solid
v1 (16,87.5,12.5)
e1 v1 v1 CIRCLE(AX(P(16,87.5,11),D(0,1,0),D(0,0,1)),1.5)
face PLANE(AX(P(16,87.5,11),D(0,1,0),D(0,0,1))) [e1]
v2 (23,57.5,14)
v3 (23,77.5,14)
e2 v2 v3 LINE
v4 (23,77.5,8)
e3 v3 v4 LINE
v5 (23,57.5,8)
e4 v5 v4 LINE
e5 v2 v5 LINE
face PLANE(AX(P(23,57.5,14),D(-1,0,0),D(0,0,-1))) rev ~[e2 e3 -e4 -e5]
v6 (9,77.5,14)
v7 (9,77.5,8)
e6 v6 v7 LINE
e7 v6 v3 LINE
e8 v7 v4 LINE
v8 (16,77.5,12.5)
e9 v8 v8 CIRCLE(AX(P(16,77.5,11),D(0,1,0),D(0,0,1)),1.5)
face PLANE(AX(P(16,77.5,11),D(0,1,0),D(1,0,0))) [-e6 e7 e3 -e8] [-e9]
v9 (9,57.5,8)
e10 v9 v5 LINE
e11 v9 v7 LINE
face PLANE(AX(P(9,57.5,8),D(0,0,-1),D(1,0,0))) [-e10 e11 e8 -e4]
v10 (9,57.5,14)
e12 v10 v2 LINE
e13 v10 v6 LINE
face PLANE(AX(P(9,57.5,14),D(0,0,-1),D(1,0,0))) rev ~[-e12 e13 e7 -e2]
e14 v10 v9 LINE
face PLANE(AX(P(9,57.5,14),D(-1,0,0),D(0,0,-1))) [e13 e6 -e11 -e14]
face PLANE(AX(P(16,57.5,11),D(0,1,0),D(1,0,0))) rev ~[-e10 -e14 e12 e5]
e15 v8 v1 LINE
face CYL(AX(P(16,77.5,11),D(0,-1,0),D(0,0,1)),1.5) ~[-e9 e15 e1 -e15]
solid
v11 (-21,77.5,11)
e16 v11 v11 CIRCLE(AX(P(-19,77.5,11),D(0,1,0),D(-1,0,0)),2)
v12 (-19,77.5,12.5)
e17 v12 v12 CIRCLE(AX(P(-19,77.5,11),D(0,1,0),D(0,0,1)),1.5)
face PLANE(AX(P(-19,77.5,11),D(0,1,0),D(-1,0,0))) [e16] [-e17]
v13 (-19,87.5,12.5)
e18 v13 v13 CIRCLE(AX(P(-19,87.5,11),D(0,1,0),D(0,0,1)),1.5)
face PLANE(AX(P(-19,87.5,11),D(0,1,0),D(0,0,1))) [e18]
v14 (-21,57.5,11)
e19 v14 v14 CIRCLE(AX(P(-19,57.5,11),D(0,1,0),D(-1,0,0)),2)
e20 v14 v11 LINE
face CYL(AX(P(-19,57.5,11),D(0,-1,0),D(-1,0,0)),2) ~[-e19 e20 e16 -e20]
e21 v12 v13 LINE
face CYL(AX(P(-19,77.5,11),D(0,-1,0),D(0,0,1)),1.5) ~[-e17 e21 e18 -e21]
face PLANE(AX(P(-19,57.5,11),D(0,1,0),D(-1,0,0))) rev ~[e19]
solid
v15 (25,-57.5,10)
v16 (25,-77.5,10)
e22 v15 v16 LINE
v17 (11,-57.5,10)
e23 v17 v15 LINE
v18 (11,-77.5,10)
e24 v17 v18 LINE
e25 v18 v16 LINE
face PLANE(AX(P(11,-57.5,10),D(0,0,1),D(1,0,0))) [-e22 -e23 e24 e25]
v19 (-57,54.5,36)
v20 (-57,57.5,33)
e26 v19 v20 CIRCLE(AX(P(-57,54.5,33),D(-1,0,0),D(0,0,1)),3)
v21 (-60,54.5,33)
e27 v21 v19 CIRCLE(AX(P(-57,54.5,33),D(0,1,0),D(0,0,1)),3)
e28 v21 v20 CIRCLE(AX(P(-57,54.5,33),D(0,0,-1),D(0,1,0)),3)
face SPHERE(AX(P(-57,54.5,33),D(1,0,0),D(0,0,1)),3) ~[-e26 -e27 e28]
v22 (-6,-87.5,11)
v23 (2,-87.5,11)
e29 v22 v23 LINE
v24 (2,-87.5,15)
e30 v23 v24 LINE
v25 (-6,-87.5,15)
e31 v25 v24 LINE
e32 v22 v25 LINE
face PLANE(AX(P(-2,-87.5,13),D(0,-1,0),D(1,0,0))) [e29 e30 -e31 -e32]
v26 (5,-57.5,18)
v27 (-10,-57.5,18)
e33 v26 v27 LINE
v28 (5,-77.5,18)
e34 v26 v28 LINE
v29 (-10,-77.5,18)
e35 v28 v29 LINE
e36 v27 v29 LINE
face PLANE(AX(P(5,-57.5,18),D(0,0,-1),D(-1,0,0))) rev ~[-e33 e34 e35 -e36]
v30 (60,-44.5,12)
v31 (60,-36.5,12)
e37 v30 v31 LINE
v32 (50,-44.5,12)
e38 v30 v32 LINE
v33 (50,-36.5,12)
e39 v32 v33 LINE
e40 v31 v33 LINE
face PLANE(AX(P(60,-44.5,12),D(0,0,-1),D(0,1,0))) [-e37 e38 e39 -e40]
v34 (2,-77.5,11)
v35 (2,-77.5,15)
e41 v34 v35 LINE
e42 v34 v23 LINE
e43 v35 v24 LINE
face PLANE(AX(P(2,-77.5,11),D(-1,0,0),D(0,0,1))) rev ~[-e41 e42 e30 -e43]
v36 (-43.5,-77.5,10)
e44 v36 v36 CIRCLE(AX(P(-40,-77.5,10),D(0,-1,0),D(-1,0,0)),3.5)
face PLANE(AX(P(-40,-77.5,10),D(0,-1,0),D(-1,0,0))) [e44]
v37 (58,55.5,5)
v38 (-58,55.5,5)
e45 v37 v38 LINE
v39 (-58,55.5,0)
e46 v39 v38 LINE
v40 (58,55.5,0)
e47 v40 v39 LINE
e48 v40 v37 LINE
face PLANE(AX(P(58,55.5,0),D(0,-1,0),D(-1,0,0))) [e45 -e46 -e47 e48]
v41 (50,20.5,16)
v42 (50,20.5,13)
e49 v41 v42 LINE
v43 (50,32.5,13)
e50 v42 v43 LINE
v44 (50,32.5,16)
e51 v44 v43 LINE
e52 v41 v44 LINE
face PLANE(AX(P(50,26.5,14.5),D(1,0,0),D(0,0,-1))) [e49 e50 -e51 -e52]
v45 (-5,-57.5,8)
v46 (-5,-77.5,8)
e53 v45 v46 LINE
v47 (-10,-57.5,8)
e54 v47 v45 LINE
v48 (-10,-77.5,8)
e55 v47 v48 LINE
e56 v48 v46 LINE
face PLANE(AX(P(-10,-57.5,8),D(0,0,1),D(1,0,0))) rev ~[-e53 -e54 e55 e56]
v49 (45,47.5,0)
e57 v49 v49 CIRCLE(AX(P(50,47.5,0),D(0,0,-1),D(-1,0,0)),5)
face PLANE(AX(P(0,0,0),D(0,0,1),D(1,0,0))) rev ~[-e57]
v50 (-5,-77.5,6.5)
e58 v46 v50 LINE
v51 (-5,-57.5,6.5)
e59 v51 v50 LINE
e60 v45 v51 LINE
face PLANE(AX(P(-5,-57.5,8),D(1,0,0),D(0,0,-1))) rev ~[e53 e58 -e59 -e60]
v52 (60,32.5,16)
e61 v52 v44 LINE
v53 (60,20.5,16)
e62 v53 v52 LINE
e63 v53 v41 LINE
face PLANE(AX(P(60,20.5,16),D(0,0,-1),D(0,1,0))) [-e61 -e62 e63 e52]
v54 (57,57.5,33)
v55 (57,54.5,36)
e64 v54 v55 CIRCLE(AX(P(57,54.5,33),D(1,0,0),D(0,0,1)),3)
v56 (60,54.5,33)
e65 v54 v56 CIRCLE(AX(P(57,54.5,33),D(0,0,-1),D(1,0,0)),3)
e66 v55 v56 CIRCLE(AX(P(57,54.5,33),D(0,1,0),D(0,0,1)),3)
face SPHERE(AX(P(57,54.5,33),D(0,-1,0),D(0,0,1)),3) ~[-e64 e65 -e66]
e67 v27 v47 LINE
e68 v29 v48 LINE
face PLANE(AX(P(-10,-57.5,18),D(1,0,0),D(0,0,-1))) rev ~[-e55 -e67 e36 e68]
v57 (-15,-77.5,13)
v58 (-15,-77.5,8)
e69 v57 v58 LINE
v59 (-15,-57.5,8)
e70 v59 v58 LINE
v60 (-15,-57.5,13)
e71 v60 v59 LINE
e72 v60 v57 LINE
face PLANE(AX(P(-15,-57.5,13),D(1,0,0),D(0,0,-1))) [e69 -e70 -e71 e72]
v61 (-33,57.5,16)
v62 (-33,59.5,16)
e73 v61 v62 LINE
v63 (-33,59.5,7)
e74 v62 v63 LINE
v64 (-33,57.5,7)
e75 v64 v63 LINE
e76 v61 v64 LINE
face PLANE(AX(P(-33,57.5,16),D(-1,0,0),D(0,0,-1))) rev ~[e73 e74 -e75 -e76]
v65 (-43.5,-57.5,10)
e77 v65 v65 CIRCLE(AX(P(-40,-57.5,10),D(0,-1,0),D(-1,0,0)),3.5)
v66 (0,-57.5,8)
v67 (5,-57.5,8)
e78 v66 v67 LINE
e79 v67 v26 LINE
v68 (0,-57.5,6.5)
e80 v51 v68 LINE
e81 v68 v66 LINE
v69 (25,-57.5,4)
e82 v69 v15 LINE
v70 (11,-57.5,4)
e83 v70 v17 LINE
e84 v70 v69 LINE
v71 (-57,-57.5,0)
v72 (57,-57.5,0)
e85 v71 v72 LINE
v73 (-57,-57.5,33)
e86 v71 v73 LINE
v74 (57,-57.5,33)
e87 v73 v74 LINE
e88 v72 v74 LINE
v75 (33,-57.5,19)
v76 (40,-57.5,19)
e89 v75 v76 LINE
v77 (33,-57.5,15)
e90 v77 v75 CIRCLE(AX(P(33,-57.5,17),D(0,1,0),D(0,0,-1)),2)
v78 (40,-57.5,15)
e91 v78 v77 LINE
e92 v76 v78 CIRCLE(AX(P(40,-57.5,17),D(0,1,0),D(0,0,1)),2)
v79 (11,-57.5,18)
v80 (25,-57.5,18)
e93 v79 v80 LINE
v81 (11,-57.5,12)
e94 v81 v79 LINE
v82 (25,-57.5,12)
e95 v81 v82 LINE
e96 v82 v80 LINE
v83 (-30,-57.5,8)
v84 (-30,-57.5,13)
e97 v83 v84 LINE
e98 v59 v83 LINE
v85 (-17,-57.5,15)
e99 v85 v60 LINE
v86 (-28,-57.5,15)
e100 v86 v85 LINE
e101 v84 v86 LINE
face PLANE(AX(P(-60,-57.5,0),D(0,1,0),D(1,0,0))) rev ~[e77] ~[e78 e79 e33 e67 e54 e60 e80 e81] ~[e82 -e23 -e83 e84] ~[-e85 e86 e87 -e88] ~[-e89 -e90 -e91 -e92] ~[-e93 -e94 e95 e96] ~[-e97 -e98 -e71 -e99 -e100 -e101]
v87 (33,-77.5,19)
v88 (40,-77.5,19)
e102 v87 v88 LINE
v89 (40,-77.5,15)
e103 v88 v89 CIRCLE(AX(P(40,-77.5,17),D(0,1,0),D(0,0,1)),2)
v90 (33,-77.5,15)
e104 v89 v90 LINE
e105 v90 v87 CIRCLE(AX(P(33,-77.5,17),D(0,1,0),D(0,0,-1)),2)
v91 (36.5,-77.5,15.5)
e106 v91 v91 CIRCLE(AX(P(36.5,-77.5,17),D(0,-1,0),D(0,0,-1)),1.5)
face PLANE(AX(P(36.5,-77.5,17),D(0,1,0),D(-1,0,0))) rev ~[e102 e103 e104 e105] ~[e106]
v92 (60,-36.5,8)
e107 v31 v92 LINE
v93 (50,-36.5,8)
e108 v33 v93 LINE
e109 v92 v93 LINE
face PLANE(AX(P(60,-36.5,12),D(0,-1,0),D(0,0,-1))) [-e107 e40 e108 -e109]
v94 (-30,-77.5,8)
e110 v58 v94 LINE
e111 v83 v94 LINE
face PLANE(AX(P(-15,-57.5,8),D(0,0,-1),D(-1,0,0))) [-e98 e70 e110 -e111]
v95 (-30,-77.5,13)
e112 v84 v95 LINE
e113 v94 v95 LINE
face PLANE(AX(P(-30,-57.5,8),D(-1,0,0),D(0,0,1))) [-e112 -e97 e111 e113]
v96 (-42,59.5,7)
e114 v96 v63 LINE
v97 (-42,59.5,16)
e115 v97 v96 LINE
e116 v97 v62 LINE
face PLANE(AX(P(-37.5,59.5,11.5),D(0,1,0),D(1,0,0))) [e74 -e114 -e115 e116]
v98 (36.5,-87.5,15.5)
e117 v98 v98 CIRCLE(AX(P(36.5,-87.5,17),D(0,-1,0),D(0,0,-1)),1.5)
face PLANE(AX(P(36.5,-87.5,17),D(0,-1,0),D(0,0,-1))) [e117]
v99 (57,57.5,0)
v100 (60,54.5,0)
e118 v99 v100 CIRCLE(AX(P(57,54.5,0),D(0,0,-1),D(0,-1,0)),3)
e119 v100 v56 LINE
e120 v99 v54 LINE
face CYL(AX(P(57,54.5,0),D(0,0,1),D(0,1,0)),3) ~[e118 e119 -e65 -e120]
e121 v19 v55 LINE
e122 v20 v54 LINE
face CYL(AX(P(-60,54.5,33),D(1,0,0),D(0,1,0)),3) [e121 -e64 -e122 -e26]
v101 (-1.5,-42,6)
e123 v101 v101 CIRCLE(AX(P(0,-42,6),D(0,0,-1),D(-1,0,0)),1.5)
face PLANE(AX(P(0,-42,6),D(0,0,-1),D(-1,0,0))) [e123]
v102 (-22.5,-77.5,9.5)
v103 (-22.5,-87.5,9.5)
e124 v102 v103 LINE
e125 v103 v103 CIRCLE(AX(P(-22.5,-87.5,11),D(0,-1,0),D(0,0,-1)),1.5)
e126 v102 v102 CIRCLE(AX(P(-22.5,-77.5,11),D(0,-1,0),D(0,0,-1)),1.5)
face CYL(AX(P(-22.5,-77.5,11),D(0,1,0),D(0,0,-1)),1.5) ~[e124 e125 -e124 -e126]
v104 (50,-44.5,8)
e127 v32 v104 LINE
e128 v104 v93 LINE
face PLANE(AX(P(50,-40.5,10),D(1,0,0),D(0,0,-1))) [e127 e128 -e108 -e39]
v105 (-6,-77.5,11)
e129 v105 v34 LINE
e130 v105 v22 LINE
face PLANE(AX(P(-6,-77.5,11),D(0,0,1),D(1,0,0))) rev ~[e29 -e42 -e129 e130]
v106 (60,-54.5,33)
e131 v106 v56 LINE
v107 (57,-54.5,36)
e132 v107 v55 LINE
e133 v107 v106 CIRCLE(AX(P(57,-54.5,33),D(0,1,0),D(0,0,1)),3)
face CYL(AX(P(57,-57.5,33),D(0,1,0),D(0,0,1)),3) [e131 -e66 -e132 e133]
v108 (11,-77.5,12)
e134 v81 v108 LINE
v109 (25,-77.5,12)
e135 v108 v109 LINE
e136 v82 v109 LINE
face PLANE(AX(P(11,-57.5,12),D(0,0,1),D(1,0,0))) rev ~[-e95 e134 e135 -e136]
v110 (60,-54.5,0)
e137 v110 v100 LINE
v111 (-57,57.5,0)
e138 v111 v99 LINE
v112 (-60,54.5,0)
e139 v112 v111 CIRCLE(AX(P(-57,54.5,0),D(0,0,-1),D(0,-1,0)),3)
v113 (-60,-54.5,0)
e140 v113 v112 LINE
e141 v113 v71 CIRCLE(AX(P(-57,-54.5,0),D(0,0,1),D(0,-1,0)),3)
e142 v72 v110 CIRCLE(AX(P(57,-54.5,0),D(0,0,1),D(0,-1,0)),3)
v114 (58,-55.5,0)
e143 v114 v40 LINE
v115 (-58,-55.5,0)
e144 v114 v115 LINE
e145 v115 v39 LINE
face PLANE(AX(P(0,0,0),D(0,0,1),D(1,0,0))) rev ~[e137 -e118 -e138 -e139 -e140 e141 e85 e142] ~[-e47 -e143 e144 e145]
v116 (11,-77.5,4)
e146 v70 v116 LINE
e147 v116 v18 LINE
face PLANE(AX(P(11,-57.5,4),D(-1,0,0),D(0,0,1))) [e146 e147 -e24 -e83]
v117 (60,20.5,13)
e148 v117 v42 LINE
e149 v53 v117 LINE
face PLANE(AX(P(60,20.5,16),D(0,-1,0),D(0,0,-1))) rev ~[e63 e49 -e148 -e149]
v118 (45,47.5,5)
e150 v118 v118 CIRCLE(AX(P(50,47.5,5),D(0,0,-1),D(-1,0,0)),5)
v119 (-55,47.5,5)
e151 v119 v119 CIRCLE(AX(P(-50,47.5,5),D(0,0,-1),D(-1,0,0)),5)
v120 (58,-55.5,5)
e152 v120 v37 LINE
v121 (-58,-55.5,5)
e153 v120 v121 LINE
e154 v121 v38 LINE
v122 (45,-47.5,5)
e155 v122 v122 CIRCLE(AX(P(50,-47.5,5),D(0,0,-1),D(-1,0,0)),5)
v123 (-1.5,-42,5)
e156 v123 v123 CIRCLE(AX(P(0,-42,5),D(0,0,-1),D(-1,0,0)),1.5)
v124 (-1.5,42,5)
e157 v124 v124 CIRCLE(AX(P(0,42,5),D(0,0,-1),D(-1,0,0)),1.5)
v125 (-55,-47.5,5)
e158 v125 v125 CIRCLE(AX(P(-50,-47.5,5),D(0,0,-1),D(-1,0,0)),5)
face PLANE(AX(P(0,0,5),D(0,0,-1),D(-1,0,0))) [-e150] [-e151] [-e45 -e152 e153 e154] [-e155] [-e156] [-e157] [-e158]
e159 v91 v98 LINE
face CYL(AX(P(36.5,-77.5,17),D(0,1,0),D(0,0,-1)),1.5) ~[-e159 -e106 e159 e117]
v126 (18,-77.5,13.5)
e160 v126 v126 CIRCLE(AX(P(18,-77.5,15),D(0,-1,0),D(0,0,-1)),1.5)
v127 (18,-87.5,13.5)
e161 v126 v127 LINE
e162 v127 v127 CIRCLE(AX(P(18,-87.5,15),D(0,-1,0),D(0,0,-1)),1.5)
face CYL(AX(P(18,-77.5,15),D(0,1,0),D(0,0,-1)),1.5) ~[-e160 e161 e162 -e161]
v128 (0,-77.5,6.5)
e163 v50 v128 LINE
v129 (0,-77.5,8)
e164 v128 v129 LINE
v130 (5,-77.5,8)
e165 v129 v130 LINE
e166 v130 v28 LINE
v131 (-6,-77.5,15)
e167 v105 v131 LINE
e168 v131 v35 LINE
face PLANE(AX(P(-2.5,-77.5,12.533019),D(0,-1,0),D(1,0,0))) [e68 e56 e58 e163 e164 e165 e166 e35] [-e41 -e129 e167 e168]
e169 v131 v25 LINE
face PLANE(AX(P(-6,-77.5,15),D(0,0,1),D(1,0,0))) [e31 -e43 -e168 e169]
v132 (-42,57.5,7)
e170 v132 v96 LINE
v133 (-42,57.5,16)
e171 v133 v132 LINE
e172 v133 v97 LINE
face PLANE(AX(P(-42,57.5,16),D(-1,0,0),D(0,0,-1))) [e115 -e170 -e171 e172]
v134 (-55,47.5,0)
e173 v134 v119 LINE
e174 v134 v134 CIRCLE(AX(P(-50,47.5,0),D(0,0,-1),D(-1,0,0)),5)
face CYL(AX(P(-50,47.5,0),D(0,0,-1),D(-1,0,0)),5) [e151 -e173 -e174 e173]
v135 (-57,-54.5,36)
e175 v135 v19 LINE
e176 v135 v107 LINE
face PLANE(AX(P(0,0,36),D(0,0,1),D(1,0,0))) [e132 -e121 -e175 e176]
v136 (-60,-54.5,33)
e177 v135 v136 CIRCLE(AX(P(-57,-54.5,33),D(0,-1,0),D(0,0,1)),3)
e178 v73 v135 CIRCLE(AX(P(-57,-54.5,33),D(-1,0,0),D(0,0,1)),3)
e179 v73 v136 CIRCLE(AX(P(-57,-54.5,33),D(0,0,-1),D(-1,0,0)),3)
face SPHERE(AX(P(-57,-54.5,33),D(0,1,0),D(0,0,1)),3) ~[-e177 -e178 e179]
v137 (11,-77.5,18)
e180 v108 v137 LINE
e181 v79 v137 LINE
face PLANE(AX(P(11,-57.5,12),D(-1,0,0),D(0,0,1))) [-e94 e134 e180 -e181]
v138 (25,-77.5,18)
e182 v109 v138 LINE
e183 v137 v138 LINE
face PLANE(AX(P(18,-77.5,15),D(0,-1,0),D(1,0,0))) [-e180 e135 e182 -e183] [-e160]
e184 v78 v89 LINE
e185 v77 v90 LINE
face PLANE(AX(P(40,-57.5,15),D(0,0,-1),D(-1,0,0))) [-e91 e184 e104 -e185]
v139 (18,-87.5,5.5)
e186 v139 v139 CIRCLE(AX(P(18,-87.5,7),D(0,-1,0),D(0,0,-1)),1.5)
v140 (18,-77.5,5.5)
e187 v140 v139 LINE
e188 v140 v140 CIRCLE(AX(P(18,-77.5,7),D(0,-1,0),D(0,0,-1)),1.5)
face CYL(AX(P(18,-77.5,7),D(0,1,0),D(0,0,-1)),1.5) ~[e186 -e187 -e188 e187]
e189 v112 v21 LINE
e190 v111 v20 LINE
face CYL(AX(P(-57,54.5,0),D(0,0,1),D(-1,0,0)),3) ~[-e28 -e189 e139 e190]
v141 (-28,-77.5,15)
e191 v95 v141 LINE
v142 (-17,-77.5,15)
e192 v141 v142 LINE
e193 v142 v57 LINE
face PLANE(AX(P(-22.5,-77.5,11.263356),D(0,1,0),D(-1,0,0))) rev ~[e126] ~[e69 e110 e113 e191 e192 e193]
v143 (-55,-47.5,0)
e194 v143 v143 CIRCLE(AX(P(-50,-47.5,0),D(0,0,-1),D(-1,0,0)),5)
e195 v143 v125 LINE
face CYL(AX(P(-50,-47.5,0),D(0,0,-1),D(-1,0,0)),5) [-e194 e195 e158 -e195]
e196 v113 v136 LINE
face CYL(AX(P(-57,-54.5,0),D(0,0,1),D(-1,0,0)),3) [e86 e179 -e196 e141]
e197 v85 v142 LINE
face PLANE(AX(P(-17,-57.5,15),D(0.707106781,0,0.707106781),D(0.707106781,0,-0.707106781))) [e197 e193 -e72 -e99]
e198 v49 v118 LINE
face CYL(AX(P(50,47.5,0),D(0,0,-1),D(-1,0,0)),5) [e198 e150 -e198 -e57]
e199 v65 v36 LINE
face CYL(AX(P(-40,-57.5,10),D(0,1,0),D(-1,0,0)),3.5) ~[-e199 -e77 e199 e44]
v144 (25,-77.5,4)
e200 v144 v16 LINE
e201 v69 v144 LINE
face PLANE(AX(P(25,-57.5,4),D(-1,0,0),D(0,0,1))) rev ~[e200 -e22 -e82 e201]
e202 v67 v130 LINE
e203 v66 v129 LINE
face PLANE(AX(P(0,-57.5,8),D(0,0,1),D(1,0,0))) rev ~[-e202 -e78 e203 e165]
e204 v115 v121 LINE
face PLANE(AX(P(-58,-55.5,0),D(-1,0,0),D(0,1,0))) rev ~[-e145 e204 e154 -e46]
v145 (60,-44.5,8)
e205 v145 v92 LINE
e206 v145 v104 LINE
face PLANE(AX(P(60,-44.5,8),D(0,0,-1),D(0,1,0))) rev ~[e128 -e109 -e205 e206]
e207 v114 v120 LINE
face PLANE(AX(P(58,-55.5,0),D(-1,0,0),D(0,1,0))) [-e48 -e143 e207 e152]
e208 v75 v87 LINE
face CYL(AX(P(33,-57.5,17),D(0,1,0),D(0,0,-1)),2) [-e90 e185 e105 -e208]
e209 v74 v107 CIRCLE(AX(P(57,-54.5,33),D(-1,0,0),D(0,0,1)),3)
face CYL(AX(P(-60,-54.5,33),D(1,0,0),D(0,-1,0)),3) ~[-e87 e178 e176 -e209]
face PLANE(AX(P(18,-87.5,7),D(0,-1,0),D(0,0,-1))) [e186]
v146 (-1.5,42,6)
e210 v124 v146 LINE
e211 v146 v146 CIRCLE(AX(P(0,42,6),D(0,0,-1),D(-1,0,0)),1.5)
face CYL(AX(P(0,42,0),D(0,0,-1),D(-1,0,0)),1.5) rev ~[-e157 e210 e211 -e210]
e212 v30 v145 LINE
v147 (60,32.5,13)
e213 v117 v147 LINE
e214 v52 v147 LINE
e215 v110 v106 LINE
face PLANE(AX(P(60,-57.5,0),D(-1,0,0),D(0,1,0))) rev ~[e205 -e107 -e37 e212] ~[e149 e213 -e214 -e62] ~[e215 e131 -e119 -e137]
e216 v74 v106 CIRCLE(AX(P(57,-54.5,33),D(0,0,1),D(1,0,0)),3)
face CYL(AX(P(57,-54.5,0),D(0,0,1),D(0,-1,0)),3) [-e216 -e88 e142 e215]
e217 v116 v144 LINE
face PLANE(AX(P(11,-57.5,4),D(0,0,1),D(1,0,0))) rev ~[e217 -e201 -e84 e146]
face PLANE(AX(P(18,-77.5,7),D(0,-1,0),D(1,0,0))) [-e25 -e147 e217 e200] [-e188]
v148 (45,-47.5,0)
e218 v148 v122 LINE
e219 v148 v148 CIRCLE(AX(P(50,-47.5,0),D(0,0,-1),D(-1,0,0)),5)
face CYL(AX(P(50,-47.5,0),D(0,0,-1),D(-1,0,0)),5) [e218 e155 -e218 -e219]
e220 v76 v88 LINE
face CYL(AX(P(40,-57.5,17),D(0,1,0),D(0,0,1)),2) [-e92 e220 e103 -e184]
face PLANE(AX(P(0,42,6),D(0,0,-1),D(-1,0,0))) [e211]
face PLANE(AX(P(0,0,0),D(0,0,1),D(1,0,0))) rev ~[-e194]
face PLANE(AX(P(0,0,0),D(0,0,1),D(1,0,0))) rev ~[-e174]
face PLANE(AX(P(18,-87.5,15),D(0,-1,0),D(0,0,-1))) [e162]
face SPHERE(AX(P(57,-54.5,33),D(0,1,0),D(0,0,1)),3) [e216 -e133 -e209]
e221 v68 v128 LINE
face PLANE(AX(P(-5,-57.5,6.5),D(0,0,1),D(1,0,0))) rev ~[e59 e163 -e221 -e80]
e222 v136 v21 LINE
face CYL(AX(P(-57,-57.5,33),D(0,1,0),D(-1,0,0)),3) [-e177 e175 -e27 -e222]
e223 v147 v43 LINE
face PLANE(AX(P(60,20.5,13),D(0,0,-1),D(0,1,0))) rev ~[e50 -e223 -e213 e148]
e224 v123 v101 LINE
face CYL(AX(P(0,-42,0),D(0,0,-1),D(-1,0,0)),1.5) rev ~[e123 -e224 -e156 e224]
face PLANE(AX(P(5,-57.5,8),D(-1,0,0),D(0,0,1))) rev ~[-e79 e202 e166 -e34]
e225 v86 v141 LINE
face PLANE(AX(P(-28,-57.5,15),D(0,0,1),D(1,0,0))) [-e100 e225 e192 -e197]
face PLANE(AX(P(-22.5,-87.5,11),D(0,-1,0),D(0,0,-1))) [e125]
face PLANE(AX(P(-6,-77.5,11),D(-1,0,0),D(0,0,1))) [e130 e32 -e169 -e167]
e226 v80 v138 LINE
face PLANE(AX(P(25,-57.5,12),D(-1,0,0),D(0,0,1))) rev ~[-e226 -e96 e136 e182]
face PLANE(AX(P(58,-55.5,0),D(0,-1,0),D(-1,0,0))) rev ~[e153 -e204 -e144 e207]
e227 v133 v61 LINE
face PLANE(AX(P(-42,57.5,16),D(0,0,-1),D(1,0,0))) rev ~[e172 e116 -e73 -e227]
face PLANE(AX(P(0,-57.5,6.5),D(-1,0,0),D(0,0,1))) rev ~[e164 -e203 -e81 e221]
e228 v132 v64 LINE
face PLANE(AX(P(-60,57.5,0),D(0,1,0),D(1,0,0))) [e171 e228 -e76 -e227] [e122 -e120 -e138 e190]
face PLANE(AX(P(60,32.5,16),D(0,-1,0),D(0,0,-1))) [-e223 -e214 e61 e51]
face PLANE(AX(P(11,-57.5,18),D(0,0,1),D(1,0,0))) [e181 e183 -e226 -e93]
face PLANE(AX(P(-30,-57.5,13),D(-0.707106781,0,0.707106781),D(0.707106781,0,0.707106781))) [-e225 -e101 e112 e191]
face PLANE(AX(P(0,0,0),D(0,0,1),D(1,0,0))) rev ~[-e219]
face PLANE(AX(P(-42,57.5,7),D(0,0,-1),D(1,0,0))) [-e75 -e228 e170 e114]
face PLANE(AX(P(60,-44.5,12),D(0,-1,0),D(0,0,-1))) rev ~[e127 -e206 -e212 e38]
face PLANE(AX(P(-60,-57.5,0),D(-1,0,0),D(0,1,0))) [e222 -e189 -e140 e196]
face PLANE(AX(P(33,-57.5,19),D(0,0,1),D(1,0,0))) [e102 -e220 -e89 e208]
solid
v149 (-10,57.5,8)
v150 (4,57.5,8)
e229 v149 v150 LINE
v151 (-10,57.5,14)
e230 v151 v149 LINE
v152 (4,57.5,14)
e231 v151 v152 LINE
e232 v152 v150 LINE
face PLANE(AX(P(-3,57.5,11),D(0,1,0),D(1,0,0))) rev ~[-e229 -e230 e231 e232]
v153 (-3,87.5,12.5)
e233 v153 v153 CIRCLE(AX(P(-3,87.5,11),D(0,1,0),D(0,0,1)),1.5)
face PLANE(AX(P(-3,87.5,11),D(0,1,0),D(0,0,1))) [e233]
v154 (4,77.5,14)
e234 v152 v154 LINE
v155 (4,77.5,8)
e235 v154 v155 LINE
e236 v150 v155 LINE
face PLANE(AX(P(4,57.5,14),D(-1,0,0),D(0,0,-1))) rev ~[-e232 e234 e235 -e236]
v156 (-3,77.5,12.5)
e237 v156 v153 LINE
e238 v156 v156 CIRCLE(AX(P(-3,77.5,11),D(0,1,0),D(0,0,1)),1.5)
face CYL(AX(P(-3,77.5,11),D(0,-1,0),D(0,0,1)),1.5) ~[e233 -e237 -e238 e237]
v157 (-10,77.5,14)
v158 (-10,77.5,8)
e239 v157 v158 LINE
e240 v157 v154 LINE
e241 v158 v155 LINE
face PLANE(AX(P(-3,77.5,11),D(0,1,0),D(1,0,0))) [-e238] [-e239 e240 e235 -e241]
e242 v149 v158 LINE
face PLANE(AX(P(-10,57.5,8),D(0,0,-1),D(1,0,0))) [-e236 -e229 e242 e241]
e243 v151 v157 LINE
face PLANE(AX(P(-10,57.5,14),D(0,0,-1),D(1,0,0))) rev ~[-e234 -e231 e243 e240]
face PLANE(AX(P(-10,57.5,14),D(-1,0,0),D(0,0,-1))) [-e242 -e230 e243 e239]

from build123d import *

# Parameters (mm, degrees)
SKETCH_1_W          = 120
SKETCH_1_H          = 115
EXTRUDE_1_DEPTH     = 36
SKETCH_2_R          = 1.5
CUT_EXTRUDE_1_DEPTH = 6
FILLET_1_R          = 3
SKETCH_3_R          = 3.5
SKETCH_3_W          = 14
SKETCH_3_H          = 6
EXTRUDE_2_DEPTH     = 20
SKETCH_4_R          = 1.5
SKETCH_4_W          = 8
SKETCH_4_H          = 4
EXTRUDE_3_DEPTH     = 10
SKETCH_5_W          = 3
SKETCH_5_H          = 12
SKETCH_5_W_2        = 4
SKETCH_5_H_2        = 8
CUT_EXTRUDE_2_DEPTH = 10
SKETCH_6_W          = 9
SKETCH_6_H          = 9
EXTRUDE_4_DEPTH     = 2
SKETCH_7_R          = 2
EXTRUDE_5_DEPTH     = 20
SKETCH_7_W          = 14
SKETCH_7_H          = 6
EXTRUDE_5_2_DEPTH   = 20
EXTRUDE_5_3_DEPTH   = 20
SKETCH_9_R          = 1.5
EXTRUDE_6_DEPTH     = 10
SKETCH_10_W         = 116
SKETCH_10_H         = 111
SKETCH_10_R         = 5
SKETCH_10_R_2       = 1.5
CUT_EXTRUDE_3_DEPTH = 5


with BuildPart() as part:
    # 草图1 → 凸台-拉伸1 (new body)
    with BuildSketch(Plane.XY):
        Rectangle(SKETCH_1_W, SKETCH_1_H)
    extrude(amount=EXTRUDE_1_DEPTH)

    # 草图2 → 切除-拉伸1 (cut)
    with BuildSketch(Plane(origin=(0, 0, 0), x_dir=(-1, 0, 0), z_dir=(0, 0, -1))):
        with Locations((0, 42)):
            Circle(SKETCH_2_R)
        with Locations((0, -42)):
            Circle(SKETCH_2_R)
    extrude(amount=-CUT_EXTRUDE_1_DEPTH, mode=Mode.SUBTRACT)

    # 圆角1
    fillet_1_edges = [part.edges().sort_by_distance(p)[0] for p in [
        (60, 0, 36),
        (0, 57.5, 36),
        (-60, 0, 36),
        (0, -57.5, 36),
        (-60, 57.5, 18),
        (60, 57.5, 18),
        (60, -57.5, 18),
        (-60, -57.5, 18),
    ]]
    fillet(fillet_1_edges, radius=FILLET_1_R)

    # 草图3 → 凸台-拉伸2 (add)
    with BuildSketch(Plane.XZ.offset(57.5)):
        with Locations(Location((-40, 10, 0), (0, 0, 180))):
            Circle(SKETCH_3_R)
        Polygon((-30, 13), (-28, 15), (-17, 15), (-15, 13), (-15, 8), (-30, 8), align=None)
        Polygon((0, 8), (5, 8), (5, 18), (-10, 18), (-10, 8), (-5, 8), (-5, 6.5), (0, 6.5), align=None)
        with Locations((18, 15)):
            Rectangle(SKETCH_3_W, SKETCH_3_H)
        with Locations((18, 7)):
            Rectangle(SKETCH_3_W, SKETCH_3_H)
        with BuildLine():
            Line((33, 19), (40, 19))
            ThreePointArc((40, 19), (42, 17), (40, 15))
            Line((40, 15), (33, 15))
            ThreePointArc((33, 15), (31, 17), (33, 19))
        make_face()
    extrude(amount=EXTRUDE_2_DEPTH)

    # 草图4 → 凸台-拉伸3 (add)
    with BuildSketch(Plane.XZ.offset(77.5)):
        with Locations(Location((-22.5, 11, 0), (0, 0, 270))):
            Circle(SKETCH_4_R)
        with Locations(Location((18, 15, 0), (0, 0, 270))):
            Circle(SKETCH_4_R)
        with Locations(Location((18, 7, 0), (0, 0, 270))):
            Circle(SKETCH_4_R)
        with Locations(Location((36.5, 17, 0), (0, 0, 270))):
            Circle(SKETCH_4_R)
        with Locations((-2, 13)):
            Rectangle(SKETCH_4_W, SKETCH_4_H)
    extrude(amount=EXTRUDE_3_DEPTH)

    # 草图5 → 切除-拉伸2 (cut)
    with BuildSketch(Plane(origin=(60, 0, 0), x_dir=(0, 0, -1), z_dir=(1, 0, 0))):
        with Locations((-14.5, 26.5)):
            Rectangle(SKETCH_5_W, SKETCH_5_H)
        with Locations((-10, -40.5)):
            Rectangle(SKETCH_5_W_2, SKETCH_5_H_2)
    extrude(amount=-CUT_EXTRUDE_2_DEPTH, mode=Mode.SUBTRACT)

    # 草图6 → 凸台-拉伸4 (add)
    with BuildSketch(Plane(origin=(0, 57.5, 0), x_dir=(1, 0, 0), z_dir=(0, 1, 0))):
        with Locations((-37.5, -11.5)):
            Rectangle(SKETCH_6_W, SKETCH_6_H)
    extrude(amount=EXTRUDE_4_DEPTH)

    # 草图10 → 切除-拉伸3 (cut)
    with BuildSketch(Plane(origin=(0, 0, 0), x_dir=(-1, 0, 0), z_dir=(0, 0, -1))):
        Rectangle(SKETCH_10_W, SKETCH_10_H)
        with Locations((50, -47.5)):
            Circle(SKETCH_10_R, mode=Mode.SUBTRACT)
        with Locations((-50, -47.5)):
            Circle(SKETCH_10_R, mode=Mode.SUBTRACT)
        with Locations((50, 47.5)):
            Circle(SKETCH_10_R, mode=Mode.SUBTRACT)
        with Locations((-50, 47.5)):
            Circle(SKETCH_10_R, mode=Mode.SUBTRACT)
        with Locations((0, -42)):
            Circle(SKETCH_10_R_2, mode=Mode.SUBTRACT)
        with Locations((0, 42)):
            Circle(SKETCH_10_R_2, mode=Mode.SUBTRACT)
    extrude(amount=-CUT_EXTRUDE_3_DEPTH, mode=Mode.SUBTRACT)


with BuildPart() as body_2:
    # 草图7 → 凸台-拉伸5 (new body)
    with BuildSketch(Plane(origin=(0, 57.5, 0), x_dir=(1, 0, 0), z_dir=(0, 1, 0))):
        with Locations(Location((-19, -11, 0), (0, 0, 180))):
            Circle(SKETCH_7_R)
    extrude(amount=EXTRUDE_5_DEPTH)



with BuildPart() as body_3:
    # 草图7 → Extrude 5 2 (new body)
    with BuildSketch(Plane(origin=(0, 57.5, 0), x_dir=(1, 0, 0), z_dir=(0, 1, 0))):
        with Locations((-3, -11)):
            Rectangle(SKETCH_7_W, SKETCH_7_H)
    extrude(amount=EXTRUDE_5_2_DEPTH)


with BuildPart() as body_4:
    # 草图7 → Extrude 5 3 (new body)
    with BuildSketch(Plane(origin=(0, 57.5, 0), x_dir=(1, 0, 0), z_dir=(0, 1, 0))):
        with Locations((16, -11)):
            Rectangle(SKETCH_7_W, SKETCH_7_H)
    extrude(amount=EXTRUDE_5_3_DEPTH)


with BuildPart() as body_2_1:
    add(body_2.part)

    add(body_3.part)  # 凸台-拉伸6 merges body 3

    add(body_4.part)  # 凸台-拉伸6 merges body 4
    # 草图9 → 凸台-拉伸6 (add)
    with BuildSketch(Plane(origin=(0, 77.5, 0), x_dir=(1, 0, 0), z_dir=(0, 1, 0))):
        with Locations(Location((-3, -11, 0), (0, 0, 270))):
            Circle(SKETCH_9_R)
        with Locations(Location((16, -11, 0), (0, 0, 270))):
            Circle(SKETCH_9_R)
        with Locations(Location((-19, -11, 0), (0, 0, 270))):
            Circle(SKETCH_9_R)
    extrude(amount=EXTRUDE_6_DEPTH)


solid = Compound([part.part, body_2_1.part])
